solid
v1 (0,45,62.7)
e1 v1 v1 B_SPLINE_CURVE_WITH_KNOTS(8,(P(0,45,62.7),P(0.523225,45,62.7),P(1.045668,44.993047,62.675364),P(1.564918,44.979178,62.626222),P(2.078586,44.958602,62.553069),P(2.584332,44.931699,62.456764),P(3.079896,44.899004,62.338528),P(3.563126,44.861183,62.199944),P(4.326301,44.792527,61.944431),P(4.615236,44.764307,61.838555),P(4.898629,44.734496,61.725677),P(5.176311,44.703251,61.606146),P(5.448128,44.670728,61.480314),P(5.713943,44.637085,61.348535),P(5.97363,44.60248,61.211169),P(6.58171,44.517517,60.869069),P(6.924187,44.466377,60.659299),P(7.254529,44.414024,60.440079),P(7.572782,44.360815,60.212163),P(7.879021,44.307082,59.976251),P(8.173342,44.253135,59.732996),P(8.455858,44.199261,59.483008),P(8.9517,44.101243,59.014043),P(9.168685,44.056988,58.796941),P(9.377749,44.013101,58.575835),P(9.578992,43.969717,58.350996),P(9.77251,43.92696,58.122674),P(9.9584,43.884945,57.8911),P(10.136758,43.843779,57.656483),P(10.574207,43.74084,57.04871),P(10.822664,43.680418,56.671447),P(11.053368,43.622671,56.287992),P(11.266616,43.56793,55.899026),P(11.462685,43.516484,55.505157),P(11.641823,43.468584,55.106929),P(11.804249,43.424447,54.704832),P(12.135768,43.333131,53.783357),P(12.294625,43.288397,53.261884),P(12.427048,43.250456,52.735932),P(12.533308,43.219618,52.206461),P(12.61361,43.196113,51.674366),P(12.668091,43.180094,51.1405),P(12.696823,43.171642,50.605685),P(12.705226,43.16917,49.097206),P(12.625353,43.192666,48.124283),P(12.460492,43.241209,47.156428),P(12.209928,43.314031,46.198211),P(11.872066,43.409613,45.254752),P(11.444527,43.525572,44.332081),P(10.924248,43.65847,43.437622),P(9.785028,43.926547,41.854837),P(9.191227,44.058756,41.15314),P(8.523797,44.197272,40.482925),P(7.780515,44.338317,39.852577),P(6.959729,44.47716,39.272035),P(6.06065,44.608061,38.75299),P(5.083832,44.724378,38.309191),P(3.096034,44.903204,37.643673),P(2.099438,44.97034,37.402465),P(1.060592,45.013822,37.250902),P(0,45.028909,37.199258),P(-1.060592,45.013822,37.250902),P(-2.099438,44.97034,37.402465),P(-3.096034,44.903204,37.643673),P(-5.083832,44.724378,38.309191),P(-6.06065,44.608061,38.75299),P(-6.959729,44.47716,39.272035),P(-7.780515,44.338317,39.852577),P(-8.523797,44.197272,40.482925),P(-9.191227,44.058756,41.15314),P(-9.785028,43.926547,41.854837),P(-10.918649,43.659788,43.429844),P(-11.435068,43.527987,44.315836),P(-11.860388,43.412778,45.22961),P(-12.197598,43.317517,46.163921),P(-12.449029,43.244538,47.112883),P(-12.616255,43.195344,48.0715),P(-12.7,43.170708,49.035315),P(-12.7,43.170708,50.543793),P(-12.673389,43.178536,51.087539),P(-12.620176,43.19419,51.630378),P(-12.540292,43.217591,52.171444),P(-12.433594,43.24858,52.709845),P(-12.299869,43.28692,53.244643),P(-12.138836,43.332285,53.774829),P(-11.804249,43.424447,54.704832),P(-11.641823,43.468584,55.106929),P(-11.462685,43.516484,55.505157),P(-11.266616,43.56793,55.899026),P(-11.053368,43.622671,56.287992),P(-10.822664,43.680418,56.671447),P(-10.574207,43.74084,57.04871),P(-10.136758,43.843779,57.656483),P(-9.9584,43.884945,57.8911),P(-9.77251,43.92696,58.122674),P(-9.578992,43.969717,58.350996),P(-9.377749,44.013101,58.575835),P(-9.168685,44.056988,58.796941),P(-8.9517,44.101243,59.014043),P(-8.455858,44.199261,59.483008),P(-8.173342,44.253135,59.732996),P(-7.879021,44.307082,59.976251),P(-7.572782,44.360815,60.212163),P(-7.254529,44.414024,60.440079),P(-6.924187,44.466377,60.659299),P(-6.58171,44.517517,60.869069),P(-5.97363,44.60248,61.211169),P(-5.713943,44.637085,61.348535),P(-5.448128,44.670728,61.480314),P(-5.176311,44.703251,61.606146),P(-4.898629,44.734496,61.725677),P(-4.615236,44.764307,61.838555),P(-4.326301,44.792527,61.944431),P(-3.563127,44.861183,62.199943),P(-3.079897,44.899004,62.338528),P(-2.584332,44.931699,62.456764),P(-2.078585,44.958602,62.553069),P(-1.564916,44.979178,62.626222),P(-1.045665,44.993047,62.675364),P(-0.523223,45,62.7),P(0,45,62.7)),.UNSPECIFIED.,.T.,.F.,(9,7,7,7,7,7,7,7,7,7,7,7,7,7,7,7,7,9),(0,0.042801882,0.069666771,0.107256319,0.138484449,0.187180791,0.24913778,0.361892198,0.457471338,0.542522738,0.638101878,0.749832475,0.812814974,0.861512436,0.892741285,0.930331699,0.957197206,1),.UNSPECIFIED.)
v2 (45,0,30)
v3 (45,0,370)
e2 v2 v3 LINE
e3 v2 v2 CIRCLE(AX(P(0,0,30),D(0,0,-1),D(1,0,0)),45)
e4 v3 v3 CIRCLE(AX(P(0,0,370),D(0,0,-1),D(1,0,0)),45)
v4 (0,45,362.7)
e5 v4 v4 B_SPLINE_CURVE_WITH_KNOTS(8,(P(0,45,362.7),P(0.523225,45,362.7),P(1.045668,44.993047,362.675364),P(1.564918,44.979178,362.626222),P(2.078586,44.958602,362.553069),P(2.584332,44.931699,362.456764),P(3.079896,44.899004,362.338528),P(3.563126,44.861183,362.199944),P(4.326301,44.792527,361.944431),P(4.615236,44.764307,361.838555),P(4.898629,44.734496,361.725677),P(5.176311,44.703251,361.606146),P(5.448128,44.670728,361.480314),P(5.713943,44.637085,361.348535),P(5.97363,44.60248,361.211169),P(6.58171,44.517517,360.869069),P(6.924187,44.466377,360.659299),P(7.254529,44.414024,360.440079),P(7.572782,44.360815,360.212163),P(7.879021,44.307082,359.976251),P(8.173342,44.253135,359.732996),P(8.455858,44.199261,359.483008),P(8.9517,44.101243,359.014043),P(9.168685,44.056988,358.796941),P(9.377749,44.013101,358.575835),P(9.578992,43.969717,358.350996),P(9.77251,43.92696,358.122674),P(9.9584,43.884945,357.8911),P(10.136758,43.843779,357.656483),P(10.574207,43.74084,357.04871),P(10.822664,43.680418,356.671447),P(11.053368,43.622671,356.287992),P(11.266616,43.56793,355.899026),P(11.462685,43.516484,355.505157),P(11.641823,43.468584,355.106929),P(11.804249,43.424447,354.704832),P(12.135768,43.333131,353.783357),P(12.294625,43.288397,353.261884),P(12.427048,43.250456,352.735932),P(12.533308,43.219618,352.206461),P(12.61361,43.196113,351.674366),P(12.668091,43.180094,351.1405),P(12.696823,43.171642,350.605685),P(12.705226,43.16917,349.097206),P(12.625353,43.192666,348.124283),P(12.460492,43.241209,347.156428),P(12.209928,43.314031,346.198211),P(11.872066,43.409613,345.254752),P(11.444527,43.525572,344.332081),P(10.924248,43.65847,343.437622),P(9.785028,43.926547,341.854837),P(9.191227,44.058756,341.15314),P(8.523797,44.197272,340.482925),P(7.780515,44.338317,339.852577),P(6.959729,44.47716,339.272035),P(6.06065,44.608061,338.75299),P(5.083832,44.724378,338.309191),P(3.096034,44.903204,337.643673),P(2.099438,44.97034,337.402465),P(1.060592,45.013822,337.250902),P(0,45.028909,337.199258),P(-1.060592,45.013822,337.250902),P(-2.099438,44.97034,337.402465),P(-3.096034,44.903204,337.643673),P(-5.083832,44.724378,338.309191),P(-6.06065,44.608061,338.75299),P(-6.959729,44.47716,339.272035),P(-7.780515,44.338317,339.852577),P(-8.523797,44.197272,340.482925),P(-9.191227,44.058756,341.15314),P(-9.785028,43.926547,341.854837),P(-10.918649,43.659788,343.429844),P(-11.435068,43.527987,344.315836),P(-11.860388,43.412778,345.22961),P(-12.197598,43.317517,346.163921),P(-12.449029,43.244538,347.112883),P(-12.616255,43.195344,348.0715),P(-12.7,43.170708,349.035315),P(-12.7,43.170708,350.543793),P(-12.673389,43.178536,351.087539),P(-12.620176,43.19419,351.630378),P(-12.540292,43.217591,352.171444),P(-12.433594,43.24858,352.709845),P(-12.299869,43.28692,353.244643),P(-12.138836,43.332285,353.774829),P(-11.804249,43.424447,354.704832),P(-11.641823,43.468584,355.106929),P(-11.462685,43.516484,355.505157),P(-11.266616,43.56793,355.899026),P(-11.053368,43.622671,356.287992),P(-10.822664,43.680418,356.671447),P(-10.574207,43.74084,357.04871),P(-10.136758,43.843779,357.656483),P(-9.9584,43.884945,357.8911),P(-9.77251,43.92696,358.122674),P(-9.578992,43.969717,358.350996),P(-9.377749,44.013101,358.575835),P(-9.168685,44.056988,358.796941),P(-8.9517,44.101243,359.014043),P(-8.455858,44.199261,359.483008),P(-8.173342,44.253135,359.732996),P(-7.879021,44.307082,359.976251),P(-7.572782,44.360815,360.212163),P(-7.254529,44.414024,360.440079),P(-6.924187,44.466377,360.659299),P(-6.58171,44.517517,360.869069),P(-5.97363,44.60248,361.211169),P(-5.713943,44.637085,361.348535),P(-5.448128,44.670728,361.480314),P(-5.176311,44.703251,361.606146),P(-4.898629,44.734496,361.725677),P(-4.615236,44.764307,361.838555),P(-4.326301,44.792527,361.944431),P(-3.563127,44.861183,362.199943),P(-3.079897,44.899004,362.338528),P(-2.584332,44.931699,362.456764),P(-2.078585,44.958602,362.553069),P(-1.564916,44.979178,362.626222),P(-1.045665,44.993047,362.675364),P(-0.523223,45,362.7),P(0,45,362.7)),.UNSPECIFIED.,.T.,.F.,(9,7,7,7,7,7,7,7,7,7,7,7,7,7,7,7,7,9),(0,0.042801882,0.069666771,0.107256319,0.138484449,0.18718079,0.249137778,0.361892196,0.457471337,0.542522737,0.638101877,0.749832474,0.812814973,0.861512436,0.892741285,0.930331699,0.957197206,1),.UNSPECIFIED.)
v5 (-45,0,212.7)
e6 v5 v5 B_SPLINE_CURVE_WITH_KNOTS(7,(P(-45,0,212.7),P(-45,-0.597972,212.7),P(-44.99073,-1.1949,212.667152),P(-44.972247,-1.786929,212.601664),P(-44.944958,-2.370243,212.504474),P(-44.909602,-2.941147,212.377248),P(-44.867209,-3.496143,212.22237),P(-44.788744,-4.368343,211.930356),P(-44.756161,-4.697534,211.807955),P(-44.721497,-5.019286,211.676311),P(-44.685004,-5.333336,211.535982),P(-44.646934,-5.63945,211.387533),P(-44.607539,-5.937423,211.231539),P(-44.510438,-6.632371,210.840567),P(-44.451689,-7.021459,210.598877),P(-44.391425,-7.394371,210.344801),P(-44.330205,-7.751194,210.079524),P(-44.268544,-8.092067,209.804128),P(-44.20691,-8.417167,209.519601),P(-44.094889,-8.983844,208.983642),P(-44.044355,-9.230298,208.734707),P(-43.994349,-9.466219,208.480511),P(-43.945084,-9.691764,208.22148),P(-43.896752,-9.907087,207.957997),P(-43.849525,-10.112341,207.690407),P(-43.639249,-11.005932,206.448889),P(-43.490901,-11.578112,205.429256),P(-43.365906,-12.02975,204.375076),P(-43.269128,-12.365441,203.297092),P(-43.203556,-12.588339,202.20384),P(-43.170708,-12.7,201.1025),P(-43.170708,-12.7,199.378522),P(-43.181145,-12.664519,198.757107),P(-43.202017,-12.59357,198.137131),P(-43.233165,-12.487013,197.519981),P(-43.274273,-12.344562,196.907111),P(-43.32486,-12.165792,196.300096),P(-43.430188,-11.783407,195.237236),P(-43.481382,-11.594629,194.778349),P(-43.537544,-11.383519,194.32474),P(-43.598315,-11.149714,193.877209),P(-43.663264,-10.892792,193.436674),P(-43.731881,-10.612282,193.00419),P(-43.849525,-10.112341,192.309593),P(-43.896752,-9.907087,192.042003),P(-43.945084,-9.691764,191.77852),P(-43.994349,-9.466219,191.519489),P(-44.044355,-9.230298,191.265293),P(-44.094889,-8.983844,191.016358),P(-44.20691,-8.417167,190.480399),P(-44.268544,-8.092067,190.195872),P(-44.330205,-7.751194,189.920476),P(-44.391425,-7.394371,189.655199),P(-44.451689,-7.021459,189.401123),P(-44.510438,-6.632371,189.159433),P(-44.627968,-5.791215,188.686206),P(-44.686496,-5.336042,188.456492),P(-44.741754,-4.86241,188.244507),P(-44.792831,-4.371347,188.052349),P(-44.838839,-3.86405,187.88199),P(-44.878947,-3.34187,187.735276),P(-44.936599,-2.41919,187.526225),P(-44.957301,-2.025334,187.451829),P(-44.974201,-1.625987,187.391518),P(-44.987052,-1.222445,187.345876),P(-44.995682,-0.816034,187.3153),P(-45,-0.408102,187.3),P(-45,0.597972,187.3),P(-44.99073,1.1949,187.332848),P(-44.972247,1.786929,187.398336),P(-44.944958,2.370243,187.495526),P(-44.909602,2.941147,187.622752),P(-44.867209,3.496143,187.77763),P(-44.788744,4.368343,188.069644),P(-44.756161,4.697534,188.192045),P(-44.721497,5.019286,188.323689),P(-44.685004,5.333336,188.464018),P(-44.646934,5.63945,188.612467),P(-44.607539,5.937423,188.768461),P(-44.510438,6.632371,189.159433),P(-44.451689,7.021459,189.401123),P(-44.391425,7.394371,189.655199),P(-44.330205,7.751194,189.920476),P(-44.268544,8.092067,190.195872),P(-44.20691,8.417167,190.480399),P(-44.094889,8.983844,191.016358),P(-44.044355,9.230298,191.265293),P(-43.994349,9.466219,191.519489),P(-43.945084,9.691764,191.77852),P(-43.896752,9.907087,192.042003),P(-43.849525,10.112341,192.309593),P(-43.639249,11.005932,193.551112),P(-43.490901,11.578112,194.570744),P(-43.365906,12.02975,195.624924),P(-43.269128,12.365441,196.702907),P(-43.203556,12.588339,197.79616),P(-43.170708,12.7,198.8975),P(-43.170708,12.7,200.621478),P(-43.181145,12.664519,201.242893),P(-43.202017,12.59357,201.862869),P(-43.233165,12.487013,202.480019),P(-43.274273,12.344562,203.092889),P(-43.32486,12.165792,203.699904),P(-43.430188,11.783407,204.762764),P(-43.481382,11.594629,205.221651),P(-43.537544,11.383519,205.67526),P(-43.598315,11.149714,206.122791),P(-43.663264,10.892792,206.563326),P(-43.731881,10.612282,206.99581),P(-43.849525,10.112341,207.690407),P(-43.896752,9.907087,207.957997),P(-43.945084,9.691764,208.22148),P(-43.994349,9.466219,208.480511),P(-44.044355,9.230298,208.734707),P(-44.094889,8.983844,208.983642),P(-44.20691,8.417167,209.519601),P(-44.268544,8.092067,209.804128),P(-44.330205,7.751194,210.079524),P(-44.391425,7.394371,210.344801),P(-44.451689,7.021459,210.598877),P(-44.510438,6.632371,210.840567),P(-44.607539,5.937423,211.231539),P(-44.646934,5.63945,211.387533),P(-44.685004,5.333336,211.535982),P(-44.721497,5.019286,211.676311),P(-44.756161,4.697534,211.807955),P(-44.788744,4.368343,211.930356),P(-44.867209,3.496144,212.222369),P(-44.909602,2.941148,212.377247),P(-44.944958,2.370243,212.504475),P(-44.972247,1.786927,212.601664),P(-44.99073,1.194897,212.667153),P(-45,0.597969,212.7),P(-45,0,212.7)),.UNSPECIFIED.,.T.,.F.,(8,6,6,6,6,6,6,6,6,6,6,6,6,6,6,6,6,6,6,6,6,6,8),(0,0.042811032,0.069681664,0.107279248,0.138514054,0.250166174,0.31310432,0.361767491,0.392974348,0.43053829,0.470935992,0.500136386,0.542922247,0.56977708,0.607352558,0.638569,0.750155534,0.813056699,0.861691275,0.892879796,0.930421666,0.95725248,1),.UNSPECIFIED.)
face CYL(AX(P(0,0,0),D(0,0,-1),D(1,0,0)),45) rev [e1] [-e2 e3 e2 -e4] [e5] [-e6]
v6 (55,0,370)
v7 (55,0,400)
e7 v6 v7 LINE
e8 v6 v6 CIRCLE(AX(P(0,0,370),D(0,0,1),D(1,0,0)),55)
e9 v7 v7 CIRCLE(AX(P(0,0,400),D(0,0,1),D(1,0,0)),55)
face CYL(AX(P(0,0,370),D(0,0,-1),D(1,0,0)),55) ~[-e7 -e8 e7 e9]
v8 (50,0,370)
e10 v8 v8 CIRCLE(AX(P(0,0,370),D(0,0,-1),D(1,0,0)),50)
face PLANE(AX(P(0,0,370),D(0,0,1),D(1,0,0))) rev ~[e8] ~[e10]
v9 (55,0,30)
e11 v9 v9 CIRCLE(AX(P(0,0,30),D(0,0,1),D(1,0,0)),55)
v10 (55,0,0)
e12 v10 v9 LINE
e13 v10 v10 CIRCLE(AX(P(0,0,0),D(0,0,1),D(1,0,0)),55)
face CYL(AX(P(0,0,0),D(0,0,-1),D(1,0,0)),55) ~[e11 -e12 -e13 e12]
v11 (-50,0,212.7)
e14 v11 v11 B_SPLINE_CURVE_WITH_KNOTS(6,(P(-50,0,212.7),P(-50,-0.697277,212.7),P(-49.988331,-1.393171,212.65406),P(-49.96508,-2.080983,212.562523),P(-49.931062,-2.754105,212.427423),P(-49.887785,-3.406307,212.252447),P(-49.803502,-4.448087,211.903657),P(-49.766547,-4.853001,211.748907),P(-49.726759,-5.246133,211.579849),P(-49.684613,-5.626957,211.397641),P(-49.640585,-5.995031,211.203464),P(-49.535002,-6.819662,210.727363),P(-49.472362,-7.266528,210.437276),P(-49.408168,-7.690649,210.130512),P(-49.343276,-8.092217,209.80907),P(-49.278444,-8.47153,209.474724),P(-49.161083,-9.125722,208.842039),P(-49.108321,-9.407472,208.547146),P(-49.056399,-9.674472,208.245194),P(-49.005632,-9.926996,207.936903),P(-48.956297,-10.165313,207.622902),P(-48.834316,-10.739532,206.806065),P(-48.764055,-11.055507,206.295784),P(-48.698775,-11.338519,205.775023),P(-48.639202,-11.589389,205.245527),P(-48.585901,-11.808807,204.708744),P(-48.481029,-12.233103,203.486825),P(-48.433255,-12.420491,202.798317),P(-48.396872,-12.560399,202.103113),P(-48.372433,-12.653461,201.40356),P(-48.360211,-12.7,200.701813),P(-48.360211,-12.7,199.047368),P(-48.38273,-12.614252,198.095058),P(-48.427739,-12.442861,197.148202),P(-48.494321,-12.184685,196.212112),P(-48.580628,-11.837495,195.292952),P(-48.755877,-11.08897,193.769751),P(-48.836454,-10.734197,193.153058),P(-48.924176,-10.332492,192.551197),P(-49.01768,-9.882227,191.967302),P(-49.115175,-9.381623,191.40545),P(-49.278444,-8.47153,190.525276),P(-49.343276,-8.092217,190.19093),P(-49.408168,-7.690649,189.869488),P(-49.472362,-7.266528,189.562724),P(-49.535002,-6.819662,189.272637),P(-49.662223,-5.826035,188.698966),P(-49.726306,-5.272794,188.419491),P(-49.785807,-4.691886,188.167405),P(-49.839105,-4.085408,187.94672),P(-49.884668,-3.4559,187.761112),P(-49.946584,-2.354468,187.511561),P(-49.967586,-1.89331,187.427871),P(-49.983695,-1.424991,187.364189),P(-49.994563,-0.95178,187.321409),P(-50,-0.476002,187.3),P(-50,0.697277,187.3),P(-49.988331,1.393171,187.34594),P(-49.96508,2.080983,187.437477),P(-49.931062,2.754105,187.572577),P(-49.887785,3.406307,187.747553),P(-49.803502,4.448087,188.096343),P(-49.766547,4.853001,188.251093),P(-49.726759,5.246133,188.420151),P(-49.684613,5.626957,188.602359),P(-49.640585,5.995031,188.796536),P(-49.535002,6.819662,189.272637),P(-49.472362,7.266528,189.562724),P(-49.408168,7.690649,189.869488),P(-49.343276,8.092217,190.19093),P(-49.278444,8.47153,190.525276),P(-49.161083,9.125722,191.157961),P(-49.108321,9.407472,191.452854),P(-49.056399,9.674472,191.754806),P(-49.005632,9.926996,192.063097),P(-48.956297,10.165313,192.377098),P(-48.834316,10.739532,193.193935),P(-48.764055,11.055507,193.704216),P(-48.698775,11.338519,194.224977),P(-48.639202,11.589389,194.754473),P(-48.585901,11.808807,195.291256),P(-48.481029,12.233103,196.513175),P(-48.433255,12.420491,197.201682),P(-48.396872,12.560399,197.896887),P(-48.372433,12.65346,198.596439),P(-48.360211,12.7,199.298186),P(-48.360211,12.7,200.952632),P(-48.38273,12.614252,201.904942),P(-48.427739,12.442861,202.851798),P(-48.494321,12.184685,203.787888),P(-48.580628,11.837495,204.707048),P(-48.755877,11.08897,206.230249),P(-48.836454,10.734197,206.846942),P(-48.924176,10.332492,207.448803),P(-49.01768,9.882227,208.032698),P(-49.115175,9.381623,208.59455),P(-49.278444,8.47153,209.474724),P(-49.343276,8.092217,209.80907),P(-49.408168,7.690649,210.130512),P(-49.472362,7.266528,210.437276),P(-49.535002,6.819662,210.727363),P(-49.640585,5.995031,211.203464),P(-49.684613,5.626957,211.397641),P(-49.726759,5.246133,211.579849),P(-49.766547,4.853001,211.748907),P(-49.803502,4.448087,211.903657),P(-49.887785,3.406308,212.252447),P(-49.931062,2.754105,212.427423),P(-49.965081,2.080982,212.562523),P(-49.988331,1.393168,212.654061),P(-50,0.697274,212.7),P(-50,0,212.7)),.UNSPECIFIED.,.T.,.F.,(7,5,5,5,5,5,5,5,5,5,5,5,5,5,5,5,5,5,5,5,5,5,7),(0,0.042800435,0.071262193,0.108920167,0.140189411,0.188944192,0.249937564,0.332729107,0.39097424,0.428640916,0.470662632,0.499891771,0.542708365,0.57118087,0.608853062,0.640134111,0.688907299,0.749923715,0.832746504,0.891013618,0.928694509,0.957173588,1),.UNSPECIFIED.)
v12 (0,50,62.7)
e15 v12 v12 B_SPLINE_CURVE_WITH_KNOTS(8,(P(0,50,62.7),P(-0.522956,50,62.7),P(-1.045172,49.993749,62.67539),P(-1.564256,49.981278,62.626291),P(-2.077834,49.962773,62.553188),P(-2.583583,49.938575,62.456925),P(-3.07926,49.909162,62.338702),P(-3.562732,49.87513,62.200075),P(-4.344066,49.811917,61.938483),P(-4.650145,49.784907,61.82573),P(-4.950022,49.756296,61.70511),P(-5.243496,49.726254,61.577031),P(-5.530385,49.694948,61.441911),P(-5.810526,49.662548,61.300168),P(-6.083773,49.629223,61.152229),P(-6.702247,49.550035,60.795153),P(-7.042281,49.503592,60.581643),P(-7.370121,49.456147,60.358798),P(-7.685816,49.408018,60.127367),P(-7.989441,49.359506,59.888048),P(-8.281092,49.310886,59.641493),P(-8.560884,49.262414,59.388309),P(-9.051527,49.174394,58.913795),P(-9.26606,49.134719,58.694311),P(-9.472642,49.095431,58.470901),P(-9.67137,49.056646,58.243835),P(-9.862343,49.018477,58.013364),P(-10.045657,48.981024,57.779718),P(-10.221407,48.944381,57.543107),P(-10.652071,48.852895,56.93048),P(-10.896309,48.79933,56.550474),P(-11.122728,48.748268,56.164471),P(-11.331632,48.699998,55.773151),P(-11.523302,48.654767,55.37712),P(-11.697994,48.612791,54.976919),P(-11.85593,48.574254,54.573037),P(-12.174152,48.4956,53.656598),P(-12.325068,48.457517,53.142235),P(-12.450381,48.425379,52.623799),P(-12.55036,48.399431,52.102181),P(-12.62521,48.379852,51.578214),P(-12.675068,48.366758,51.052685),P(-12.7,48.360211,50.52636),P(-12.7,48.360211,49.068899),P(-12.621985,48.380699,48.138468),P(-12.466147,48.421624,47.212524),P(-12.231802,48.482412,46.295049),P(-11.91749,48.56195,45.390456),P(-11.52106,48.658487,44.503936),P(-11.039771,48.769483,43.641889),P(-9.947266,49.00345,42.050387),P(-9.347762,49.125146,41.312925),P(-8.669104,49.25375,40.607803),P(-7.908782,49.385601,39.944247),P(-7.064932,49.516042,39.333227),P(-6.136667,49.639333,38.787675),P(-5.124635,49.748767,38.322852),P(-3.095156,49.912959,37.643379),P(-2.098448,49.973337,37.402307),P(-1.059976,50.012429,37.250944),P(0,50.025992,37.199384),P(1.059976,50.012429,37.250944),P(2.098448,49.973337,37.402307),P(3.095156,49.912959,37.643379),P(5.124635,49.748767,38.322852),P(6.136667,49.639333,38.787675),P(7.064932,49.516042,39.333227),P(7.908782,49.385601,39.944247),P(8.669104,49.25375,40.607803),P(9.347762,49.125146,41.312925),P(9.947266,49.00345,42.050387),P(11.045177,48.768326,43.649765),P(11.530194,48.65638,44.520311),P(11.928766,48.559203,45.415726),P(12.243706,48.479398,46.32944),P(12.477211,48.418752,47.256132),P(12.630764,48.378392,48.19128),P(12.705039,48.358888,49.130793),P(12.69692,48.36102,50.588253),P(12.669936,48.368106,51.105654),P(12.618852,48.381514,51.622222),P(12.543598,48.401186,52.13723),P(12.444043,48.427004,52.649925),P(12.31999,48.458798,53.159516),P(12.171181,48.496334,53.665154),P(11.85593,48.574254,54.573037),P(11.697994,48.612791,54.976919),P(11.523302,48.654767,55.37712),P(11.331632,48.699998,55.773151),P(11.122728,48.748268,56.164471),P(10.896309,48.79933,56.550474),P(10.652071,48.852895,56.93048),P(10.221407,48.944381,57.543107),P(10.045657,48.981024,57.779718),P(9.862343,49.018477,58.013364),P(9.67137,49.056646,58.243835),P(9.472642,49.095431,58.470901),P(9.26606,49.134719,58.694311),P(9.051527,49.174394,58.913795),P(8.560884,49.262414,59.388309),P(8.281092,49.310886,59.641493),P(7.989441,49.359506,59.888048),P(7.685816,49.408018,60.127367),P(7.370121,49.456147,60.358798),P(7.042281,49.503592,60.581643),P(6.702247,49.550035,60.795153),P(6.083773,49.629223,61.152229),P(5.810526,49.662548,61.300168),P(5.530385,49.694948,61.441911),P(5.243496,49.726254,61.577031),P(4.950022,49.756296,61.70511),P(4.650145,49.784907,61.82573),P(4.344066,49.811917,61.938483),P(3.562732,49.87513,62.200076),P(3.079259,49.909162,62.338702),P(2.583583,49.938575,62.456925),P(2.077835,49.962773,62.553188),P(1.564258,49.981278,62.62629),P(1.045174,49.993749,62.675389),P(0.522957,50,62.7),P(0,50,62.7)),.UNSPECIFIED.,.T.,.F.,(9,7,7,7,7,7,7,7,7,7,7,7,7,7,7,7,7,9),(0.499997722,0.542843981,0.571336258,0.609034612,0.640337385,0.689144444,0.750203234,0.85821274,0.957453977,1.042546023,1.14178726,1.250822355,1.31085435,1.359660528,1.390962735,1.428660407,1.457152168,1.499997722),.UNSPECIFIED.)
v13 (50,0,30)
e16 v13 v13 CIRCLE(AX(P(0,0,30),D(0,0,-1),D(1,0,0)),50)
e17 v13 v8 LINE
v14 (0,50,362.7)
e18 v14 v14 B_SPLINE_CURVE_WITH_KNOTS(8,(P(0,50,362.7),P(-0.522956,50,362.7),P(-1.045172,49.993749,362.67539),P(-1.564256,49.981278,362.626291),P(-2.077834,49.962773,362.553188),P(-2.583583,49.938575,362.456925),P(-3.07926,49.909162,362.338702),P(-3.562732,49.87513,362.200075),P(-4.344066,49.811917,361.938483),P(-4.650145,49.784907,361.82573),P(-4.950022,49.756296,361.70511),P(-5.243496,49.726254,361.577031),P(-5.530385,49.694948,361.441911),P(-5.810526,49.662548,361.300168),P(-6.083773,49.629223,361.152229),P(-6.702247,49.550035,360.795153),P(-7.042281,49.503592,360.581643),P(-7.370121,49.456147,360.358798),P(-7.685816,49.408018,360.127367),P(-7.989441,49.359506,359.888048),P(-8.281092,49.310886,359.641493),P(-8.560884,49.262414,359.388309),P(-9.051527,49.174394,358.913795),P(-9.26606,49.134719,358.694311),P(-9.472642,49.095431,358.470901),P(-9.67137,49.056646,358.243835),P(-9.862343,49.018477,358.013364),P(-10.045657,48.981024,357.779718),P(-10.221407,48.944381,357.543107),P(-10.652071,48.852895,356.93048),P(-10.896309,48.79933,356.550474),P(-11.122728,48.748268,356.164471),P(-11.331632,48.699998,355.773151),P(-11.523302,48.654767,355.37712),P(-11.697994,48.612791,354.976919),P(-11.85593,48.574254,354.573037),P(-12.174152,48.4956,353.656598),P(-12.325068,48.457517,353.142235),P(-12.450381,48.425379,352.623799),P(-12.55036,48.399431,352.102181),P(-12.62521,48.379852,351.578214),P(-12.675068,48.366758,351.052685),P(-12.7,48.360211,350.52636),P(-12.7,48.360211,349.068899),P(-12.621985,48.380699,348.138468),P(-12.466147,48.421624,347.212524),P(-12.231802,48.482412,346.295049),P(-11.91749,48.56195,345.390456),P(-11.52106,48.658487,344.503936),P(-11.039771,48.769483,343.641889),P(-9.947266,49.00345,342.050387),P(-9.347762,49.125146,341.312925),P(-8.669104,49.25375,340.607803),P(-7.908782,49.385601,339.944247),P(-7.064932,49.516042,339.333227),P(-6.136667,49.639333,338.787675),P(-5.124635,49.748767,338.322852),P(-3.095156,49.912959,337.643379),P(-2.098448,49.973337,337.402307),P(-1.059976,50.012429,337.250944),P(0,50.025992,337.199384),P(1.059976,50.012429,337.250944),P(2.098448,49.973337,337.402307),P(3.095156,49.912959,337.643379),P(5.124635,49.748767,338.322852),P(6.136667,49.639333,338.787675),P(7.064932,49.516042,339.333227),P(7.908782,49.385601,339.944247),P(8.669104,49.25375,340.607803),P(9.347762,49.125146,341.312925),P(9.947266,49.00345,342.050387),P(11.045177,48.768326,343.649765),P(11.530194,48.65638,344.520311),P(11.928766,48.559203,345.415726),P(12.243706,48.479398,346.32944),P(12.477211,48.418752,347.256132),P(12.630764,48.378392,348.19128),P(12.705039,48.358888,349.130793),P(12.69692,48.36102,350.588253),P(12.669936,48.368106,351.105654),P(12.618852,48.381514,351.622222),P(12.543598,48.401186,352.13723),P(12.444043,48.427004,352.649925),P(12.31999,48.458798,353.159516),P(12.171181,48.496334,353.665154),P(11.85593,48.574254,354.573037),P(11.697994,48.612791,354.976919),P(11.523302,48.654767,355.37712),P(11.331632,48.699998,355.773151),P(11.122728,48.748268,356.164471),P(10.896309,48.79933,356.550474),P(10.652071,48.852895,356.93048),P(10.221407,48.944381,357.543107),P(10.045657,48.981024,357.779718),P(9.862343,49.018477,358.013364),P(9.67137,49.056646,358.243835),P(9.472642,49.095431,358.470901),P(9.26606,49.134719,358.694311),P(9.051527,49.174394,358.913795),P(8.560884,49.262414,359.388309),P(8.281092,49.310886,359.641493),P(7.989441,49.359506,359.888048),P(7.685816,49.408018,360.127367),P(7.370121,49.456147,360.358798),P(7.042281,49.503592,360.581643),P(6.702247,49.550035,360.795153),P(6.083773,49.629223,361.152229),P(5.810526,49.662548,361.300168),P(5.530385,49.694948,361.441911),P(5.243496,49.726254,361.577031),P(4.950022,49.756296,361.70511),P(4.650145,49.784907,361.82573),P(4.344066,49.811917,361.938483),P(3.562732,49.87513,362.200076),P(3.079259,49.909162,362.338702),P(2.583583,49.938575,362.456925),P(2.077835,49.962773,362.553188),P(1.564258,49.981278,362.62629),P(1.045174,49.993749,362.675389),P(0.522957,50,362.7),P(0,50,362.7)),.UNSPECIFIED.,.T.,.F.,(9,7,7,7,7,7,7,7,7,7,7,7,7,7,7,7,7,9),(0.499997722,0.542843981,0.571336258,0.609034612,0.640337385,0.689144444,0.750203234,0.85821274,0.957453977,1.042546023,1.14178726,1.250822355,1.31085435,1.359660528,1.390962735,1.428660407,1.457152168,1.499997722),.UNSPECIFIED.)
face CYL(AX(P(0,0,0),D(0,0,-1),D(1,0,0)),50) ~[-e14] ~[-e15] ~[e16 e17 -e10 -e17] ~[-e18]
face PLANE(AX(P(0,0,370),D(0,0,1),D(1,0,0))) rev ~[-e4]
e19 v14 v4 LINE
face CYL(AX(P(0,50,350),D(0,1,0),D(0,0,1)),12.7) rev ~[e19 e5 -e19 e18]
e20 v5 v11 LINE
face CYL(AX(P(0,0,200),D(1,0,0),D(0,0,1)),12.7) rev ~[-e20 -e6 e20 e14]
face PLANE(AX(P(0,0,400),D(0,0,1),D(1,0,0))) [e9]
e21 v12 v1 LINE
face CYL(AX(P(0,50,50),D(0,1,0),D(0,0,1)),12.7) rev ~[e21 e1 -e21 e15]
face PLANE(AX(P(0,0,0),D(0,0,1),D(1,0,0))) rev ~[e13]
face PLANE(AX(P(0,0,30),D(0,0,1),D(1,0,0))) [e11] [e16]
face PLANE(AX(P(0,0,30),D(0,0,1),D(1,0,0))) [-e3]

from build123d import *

# Parameters (mm, degrees)
CROQUIS1_R              = 50
CROQUIS1_R_2            = 45
SALIENTE_EXTRUIR1_DEPTH = 400
CROQUIS2_R              = 55
SALIENTE_EXTRUIR2_DEPTH = 30
SALIENTE_EXTRUIR3_START = -30
CROQUIS3_R              = 55
SALIENTE_EXTRUIR3_DEPTH = 30
CROQUIS5_R              = 12.7
CORTAR_EXTRUIR2_DEPTH   = 60
CROQUIS7_R              = 12.7
CORTAR_EXTRUIR4_DEPTH   = 106


with BuildPart() as part:
    # Croquis1 → Saliente-Extruir1 (new body)
    with BuildSketch(Plane.XY):
        Circle(CROQUIS1_R)
        Circle(CROQUIS1_R_2, mode=Mode.SUBTRACT)
    extrude(amount=SALIENTE_EXTRUIR1_DEPTH)

    # Croquis2 → Saliente-Extruir2 (add)
    with BuildSketch(Plane.XY):
        Circle(CROQUIS2_R)
    extrude(amount=SALIENTE_EXTRUIR2_DEPTH)

    # Croquis3 → Saliente-Extruir3 (add)
    with BuildSketch(Plane.XY.offset(400).offset(SALIENTE_EXTRUIR3_START)):
        Circle(CROQUIS3_R)
    extrude(amount=SALIENTE_EXTRUIR3_DEPTH)

    # Croquis5 → Cortar-Extruir2 (cut)
    with BuildSketch(Plane(origin=(0, 50, 0), x_dir=(1, 0, 0), z_dir=(0, 1, 0))):
        with Locations(Location((0, -350, 0), (0, 0, 270))):
            Circle(CROQUIS5_R)
        with Locations(Location((0, -50, 0), (0, 0, 270))):
            Circle(CROQUIS5_R)
    extrude(amount=-CORTAR_EXTRUIR2_DEPTH, mode=Mode.SUBTRACT)

    # Croquis7 → Cortar-Extruir4 (cut)
    with BuildSketch(Plane(origin=(0, 0, 0), x_dir=(0, 0, -1), z_dir=(1, 0, 0))):
        with Locations(Location((-200, 0, 0), (0, 0, 180))):
            Circle(CROQUIS7_R)
    extrude(amount=-CORTAR_EXTRUIR4_DEPTH, mode=Mode.SUBTRACT)


solid = part.part
